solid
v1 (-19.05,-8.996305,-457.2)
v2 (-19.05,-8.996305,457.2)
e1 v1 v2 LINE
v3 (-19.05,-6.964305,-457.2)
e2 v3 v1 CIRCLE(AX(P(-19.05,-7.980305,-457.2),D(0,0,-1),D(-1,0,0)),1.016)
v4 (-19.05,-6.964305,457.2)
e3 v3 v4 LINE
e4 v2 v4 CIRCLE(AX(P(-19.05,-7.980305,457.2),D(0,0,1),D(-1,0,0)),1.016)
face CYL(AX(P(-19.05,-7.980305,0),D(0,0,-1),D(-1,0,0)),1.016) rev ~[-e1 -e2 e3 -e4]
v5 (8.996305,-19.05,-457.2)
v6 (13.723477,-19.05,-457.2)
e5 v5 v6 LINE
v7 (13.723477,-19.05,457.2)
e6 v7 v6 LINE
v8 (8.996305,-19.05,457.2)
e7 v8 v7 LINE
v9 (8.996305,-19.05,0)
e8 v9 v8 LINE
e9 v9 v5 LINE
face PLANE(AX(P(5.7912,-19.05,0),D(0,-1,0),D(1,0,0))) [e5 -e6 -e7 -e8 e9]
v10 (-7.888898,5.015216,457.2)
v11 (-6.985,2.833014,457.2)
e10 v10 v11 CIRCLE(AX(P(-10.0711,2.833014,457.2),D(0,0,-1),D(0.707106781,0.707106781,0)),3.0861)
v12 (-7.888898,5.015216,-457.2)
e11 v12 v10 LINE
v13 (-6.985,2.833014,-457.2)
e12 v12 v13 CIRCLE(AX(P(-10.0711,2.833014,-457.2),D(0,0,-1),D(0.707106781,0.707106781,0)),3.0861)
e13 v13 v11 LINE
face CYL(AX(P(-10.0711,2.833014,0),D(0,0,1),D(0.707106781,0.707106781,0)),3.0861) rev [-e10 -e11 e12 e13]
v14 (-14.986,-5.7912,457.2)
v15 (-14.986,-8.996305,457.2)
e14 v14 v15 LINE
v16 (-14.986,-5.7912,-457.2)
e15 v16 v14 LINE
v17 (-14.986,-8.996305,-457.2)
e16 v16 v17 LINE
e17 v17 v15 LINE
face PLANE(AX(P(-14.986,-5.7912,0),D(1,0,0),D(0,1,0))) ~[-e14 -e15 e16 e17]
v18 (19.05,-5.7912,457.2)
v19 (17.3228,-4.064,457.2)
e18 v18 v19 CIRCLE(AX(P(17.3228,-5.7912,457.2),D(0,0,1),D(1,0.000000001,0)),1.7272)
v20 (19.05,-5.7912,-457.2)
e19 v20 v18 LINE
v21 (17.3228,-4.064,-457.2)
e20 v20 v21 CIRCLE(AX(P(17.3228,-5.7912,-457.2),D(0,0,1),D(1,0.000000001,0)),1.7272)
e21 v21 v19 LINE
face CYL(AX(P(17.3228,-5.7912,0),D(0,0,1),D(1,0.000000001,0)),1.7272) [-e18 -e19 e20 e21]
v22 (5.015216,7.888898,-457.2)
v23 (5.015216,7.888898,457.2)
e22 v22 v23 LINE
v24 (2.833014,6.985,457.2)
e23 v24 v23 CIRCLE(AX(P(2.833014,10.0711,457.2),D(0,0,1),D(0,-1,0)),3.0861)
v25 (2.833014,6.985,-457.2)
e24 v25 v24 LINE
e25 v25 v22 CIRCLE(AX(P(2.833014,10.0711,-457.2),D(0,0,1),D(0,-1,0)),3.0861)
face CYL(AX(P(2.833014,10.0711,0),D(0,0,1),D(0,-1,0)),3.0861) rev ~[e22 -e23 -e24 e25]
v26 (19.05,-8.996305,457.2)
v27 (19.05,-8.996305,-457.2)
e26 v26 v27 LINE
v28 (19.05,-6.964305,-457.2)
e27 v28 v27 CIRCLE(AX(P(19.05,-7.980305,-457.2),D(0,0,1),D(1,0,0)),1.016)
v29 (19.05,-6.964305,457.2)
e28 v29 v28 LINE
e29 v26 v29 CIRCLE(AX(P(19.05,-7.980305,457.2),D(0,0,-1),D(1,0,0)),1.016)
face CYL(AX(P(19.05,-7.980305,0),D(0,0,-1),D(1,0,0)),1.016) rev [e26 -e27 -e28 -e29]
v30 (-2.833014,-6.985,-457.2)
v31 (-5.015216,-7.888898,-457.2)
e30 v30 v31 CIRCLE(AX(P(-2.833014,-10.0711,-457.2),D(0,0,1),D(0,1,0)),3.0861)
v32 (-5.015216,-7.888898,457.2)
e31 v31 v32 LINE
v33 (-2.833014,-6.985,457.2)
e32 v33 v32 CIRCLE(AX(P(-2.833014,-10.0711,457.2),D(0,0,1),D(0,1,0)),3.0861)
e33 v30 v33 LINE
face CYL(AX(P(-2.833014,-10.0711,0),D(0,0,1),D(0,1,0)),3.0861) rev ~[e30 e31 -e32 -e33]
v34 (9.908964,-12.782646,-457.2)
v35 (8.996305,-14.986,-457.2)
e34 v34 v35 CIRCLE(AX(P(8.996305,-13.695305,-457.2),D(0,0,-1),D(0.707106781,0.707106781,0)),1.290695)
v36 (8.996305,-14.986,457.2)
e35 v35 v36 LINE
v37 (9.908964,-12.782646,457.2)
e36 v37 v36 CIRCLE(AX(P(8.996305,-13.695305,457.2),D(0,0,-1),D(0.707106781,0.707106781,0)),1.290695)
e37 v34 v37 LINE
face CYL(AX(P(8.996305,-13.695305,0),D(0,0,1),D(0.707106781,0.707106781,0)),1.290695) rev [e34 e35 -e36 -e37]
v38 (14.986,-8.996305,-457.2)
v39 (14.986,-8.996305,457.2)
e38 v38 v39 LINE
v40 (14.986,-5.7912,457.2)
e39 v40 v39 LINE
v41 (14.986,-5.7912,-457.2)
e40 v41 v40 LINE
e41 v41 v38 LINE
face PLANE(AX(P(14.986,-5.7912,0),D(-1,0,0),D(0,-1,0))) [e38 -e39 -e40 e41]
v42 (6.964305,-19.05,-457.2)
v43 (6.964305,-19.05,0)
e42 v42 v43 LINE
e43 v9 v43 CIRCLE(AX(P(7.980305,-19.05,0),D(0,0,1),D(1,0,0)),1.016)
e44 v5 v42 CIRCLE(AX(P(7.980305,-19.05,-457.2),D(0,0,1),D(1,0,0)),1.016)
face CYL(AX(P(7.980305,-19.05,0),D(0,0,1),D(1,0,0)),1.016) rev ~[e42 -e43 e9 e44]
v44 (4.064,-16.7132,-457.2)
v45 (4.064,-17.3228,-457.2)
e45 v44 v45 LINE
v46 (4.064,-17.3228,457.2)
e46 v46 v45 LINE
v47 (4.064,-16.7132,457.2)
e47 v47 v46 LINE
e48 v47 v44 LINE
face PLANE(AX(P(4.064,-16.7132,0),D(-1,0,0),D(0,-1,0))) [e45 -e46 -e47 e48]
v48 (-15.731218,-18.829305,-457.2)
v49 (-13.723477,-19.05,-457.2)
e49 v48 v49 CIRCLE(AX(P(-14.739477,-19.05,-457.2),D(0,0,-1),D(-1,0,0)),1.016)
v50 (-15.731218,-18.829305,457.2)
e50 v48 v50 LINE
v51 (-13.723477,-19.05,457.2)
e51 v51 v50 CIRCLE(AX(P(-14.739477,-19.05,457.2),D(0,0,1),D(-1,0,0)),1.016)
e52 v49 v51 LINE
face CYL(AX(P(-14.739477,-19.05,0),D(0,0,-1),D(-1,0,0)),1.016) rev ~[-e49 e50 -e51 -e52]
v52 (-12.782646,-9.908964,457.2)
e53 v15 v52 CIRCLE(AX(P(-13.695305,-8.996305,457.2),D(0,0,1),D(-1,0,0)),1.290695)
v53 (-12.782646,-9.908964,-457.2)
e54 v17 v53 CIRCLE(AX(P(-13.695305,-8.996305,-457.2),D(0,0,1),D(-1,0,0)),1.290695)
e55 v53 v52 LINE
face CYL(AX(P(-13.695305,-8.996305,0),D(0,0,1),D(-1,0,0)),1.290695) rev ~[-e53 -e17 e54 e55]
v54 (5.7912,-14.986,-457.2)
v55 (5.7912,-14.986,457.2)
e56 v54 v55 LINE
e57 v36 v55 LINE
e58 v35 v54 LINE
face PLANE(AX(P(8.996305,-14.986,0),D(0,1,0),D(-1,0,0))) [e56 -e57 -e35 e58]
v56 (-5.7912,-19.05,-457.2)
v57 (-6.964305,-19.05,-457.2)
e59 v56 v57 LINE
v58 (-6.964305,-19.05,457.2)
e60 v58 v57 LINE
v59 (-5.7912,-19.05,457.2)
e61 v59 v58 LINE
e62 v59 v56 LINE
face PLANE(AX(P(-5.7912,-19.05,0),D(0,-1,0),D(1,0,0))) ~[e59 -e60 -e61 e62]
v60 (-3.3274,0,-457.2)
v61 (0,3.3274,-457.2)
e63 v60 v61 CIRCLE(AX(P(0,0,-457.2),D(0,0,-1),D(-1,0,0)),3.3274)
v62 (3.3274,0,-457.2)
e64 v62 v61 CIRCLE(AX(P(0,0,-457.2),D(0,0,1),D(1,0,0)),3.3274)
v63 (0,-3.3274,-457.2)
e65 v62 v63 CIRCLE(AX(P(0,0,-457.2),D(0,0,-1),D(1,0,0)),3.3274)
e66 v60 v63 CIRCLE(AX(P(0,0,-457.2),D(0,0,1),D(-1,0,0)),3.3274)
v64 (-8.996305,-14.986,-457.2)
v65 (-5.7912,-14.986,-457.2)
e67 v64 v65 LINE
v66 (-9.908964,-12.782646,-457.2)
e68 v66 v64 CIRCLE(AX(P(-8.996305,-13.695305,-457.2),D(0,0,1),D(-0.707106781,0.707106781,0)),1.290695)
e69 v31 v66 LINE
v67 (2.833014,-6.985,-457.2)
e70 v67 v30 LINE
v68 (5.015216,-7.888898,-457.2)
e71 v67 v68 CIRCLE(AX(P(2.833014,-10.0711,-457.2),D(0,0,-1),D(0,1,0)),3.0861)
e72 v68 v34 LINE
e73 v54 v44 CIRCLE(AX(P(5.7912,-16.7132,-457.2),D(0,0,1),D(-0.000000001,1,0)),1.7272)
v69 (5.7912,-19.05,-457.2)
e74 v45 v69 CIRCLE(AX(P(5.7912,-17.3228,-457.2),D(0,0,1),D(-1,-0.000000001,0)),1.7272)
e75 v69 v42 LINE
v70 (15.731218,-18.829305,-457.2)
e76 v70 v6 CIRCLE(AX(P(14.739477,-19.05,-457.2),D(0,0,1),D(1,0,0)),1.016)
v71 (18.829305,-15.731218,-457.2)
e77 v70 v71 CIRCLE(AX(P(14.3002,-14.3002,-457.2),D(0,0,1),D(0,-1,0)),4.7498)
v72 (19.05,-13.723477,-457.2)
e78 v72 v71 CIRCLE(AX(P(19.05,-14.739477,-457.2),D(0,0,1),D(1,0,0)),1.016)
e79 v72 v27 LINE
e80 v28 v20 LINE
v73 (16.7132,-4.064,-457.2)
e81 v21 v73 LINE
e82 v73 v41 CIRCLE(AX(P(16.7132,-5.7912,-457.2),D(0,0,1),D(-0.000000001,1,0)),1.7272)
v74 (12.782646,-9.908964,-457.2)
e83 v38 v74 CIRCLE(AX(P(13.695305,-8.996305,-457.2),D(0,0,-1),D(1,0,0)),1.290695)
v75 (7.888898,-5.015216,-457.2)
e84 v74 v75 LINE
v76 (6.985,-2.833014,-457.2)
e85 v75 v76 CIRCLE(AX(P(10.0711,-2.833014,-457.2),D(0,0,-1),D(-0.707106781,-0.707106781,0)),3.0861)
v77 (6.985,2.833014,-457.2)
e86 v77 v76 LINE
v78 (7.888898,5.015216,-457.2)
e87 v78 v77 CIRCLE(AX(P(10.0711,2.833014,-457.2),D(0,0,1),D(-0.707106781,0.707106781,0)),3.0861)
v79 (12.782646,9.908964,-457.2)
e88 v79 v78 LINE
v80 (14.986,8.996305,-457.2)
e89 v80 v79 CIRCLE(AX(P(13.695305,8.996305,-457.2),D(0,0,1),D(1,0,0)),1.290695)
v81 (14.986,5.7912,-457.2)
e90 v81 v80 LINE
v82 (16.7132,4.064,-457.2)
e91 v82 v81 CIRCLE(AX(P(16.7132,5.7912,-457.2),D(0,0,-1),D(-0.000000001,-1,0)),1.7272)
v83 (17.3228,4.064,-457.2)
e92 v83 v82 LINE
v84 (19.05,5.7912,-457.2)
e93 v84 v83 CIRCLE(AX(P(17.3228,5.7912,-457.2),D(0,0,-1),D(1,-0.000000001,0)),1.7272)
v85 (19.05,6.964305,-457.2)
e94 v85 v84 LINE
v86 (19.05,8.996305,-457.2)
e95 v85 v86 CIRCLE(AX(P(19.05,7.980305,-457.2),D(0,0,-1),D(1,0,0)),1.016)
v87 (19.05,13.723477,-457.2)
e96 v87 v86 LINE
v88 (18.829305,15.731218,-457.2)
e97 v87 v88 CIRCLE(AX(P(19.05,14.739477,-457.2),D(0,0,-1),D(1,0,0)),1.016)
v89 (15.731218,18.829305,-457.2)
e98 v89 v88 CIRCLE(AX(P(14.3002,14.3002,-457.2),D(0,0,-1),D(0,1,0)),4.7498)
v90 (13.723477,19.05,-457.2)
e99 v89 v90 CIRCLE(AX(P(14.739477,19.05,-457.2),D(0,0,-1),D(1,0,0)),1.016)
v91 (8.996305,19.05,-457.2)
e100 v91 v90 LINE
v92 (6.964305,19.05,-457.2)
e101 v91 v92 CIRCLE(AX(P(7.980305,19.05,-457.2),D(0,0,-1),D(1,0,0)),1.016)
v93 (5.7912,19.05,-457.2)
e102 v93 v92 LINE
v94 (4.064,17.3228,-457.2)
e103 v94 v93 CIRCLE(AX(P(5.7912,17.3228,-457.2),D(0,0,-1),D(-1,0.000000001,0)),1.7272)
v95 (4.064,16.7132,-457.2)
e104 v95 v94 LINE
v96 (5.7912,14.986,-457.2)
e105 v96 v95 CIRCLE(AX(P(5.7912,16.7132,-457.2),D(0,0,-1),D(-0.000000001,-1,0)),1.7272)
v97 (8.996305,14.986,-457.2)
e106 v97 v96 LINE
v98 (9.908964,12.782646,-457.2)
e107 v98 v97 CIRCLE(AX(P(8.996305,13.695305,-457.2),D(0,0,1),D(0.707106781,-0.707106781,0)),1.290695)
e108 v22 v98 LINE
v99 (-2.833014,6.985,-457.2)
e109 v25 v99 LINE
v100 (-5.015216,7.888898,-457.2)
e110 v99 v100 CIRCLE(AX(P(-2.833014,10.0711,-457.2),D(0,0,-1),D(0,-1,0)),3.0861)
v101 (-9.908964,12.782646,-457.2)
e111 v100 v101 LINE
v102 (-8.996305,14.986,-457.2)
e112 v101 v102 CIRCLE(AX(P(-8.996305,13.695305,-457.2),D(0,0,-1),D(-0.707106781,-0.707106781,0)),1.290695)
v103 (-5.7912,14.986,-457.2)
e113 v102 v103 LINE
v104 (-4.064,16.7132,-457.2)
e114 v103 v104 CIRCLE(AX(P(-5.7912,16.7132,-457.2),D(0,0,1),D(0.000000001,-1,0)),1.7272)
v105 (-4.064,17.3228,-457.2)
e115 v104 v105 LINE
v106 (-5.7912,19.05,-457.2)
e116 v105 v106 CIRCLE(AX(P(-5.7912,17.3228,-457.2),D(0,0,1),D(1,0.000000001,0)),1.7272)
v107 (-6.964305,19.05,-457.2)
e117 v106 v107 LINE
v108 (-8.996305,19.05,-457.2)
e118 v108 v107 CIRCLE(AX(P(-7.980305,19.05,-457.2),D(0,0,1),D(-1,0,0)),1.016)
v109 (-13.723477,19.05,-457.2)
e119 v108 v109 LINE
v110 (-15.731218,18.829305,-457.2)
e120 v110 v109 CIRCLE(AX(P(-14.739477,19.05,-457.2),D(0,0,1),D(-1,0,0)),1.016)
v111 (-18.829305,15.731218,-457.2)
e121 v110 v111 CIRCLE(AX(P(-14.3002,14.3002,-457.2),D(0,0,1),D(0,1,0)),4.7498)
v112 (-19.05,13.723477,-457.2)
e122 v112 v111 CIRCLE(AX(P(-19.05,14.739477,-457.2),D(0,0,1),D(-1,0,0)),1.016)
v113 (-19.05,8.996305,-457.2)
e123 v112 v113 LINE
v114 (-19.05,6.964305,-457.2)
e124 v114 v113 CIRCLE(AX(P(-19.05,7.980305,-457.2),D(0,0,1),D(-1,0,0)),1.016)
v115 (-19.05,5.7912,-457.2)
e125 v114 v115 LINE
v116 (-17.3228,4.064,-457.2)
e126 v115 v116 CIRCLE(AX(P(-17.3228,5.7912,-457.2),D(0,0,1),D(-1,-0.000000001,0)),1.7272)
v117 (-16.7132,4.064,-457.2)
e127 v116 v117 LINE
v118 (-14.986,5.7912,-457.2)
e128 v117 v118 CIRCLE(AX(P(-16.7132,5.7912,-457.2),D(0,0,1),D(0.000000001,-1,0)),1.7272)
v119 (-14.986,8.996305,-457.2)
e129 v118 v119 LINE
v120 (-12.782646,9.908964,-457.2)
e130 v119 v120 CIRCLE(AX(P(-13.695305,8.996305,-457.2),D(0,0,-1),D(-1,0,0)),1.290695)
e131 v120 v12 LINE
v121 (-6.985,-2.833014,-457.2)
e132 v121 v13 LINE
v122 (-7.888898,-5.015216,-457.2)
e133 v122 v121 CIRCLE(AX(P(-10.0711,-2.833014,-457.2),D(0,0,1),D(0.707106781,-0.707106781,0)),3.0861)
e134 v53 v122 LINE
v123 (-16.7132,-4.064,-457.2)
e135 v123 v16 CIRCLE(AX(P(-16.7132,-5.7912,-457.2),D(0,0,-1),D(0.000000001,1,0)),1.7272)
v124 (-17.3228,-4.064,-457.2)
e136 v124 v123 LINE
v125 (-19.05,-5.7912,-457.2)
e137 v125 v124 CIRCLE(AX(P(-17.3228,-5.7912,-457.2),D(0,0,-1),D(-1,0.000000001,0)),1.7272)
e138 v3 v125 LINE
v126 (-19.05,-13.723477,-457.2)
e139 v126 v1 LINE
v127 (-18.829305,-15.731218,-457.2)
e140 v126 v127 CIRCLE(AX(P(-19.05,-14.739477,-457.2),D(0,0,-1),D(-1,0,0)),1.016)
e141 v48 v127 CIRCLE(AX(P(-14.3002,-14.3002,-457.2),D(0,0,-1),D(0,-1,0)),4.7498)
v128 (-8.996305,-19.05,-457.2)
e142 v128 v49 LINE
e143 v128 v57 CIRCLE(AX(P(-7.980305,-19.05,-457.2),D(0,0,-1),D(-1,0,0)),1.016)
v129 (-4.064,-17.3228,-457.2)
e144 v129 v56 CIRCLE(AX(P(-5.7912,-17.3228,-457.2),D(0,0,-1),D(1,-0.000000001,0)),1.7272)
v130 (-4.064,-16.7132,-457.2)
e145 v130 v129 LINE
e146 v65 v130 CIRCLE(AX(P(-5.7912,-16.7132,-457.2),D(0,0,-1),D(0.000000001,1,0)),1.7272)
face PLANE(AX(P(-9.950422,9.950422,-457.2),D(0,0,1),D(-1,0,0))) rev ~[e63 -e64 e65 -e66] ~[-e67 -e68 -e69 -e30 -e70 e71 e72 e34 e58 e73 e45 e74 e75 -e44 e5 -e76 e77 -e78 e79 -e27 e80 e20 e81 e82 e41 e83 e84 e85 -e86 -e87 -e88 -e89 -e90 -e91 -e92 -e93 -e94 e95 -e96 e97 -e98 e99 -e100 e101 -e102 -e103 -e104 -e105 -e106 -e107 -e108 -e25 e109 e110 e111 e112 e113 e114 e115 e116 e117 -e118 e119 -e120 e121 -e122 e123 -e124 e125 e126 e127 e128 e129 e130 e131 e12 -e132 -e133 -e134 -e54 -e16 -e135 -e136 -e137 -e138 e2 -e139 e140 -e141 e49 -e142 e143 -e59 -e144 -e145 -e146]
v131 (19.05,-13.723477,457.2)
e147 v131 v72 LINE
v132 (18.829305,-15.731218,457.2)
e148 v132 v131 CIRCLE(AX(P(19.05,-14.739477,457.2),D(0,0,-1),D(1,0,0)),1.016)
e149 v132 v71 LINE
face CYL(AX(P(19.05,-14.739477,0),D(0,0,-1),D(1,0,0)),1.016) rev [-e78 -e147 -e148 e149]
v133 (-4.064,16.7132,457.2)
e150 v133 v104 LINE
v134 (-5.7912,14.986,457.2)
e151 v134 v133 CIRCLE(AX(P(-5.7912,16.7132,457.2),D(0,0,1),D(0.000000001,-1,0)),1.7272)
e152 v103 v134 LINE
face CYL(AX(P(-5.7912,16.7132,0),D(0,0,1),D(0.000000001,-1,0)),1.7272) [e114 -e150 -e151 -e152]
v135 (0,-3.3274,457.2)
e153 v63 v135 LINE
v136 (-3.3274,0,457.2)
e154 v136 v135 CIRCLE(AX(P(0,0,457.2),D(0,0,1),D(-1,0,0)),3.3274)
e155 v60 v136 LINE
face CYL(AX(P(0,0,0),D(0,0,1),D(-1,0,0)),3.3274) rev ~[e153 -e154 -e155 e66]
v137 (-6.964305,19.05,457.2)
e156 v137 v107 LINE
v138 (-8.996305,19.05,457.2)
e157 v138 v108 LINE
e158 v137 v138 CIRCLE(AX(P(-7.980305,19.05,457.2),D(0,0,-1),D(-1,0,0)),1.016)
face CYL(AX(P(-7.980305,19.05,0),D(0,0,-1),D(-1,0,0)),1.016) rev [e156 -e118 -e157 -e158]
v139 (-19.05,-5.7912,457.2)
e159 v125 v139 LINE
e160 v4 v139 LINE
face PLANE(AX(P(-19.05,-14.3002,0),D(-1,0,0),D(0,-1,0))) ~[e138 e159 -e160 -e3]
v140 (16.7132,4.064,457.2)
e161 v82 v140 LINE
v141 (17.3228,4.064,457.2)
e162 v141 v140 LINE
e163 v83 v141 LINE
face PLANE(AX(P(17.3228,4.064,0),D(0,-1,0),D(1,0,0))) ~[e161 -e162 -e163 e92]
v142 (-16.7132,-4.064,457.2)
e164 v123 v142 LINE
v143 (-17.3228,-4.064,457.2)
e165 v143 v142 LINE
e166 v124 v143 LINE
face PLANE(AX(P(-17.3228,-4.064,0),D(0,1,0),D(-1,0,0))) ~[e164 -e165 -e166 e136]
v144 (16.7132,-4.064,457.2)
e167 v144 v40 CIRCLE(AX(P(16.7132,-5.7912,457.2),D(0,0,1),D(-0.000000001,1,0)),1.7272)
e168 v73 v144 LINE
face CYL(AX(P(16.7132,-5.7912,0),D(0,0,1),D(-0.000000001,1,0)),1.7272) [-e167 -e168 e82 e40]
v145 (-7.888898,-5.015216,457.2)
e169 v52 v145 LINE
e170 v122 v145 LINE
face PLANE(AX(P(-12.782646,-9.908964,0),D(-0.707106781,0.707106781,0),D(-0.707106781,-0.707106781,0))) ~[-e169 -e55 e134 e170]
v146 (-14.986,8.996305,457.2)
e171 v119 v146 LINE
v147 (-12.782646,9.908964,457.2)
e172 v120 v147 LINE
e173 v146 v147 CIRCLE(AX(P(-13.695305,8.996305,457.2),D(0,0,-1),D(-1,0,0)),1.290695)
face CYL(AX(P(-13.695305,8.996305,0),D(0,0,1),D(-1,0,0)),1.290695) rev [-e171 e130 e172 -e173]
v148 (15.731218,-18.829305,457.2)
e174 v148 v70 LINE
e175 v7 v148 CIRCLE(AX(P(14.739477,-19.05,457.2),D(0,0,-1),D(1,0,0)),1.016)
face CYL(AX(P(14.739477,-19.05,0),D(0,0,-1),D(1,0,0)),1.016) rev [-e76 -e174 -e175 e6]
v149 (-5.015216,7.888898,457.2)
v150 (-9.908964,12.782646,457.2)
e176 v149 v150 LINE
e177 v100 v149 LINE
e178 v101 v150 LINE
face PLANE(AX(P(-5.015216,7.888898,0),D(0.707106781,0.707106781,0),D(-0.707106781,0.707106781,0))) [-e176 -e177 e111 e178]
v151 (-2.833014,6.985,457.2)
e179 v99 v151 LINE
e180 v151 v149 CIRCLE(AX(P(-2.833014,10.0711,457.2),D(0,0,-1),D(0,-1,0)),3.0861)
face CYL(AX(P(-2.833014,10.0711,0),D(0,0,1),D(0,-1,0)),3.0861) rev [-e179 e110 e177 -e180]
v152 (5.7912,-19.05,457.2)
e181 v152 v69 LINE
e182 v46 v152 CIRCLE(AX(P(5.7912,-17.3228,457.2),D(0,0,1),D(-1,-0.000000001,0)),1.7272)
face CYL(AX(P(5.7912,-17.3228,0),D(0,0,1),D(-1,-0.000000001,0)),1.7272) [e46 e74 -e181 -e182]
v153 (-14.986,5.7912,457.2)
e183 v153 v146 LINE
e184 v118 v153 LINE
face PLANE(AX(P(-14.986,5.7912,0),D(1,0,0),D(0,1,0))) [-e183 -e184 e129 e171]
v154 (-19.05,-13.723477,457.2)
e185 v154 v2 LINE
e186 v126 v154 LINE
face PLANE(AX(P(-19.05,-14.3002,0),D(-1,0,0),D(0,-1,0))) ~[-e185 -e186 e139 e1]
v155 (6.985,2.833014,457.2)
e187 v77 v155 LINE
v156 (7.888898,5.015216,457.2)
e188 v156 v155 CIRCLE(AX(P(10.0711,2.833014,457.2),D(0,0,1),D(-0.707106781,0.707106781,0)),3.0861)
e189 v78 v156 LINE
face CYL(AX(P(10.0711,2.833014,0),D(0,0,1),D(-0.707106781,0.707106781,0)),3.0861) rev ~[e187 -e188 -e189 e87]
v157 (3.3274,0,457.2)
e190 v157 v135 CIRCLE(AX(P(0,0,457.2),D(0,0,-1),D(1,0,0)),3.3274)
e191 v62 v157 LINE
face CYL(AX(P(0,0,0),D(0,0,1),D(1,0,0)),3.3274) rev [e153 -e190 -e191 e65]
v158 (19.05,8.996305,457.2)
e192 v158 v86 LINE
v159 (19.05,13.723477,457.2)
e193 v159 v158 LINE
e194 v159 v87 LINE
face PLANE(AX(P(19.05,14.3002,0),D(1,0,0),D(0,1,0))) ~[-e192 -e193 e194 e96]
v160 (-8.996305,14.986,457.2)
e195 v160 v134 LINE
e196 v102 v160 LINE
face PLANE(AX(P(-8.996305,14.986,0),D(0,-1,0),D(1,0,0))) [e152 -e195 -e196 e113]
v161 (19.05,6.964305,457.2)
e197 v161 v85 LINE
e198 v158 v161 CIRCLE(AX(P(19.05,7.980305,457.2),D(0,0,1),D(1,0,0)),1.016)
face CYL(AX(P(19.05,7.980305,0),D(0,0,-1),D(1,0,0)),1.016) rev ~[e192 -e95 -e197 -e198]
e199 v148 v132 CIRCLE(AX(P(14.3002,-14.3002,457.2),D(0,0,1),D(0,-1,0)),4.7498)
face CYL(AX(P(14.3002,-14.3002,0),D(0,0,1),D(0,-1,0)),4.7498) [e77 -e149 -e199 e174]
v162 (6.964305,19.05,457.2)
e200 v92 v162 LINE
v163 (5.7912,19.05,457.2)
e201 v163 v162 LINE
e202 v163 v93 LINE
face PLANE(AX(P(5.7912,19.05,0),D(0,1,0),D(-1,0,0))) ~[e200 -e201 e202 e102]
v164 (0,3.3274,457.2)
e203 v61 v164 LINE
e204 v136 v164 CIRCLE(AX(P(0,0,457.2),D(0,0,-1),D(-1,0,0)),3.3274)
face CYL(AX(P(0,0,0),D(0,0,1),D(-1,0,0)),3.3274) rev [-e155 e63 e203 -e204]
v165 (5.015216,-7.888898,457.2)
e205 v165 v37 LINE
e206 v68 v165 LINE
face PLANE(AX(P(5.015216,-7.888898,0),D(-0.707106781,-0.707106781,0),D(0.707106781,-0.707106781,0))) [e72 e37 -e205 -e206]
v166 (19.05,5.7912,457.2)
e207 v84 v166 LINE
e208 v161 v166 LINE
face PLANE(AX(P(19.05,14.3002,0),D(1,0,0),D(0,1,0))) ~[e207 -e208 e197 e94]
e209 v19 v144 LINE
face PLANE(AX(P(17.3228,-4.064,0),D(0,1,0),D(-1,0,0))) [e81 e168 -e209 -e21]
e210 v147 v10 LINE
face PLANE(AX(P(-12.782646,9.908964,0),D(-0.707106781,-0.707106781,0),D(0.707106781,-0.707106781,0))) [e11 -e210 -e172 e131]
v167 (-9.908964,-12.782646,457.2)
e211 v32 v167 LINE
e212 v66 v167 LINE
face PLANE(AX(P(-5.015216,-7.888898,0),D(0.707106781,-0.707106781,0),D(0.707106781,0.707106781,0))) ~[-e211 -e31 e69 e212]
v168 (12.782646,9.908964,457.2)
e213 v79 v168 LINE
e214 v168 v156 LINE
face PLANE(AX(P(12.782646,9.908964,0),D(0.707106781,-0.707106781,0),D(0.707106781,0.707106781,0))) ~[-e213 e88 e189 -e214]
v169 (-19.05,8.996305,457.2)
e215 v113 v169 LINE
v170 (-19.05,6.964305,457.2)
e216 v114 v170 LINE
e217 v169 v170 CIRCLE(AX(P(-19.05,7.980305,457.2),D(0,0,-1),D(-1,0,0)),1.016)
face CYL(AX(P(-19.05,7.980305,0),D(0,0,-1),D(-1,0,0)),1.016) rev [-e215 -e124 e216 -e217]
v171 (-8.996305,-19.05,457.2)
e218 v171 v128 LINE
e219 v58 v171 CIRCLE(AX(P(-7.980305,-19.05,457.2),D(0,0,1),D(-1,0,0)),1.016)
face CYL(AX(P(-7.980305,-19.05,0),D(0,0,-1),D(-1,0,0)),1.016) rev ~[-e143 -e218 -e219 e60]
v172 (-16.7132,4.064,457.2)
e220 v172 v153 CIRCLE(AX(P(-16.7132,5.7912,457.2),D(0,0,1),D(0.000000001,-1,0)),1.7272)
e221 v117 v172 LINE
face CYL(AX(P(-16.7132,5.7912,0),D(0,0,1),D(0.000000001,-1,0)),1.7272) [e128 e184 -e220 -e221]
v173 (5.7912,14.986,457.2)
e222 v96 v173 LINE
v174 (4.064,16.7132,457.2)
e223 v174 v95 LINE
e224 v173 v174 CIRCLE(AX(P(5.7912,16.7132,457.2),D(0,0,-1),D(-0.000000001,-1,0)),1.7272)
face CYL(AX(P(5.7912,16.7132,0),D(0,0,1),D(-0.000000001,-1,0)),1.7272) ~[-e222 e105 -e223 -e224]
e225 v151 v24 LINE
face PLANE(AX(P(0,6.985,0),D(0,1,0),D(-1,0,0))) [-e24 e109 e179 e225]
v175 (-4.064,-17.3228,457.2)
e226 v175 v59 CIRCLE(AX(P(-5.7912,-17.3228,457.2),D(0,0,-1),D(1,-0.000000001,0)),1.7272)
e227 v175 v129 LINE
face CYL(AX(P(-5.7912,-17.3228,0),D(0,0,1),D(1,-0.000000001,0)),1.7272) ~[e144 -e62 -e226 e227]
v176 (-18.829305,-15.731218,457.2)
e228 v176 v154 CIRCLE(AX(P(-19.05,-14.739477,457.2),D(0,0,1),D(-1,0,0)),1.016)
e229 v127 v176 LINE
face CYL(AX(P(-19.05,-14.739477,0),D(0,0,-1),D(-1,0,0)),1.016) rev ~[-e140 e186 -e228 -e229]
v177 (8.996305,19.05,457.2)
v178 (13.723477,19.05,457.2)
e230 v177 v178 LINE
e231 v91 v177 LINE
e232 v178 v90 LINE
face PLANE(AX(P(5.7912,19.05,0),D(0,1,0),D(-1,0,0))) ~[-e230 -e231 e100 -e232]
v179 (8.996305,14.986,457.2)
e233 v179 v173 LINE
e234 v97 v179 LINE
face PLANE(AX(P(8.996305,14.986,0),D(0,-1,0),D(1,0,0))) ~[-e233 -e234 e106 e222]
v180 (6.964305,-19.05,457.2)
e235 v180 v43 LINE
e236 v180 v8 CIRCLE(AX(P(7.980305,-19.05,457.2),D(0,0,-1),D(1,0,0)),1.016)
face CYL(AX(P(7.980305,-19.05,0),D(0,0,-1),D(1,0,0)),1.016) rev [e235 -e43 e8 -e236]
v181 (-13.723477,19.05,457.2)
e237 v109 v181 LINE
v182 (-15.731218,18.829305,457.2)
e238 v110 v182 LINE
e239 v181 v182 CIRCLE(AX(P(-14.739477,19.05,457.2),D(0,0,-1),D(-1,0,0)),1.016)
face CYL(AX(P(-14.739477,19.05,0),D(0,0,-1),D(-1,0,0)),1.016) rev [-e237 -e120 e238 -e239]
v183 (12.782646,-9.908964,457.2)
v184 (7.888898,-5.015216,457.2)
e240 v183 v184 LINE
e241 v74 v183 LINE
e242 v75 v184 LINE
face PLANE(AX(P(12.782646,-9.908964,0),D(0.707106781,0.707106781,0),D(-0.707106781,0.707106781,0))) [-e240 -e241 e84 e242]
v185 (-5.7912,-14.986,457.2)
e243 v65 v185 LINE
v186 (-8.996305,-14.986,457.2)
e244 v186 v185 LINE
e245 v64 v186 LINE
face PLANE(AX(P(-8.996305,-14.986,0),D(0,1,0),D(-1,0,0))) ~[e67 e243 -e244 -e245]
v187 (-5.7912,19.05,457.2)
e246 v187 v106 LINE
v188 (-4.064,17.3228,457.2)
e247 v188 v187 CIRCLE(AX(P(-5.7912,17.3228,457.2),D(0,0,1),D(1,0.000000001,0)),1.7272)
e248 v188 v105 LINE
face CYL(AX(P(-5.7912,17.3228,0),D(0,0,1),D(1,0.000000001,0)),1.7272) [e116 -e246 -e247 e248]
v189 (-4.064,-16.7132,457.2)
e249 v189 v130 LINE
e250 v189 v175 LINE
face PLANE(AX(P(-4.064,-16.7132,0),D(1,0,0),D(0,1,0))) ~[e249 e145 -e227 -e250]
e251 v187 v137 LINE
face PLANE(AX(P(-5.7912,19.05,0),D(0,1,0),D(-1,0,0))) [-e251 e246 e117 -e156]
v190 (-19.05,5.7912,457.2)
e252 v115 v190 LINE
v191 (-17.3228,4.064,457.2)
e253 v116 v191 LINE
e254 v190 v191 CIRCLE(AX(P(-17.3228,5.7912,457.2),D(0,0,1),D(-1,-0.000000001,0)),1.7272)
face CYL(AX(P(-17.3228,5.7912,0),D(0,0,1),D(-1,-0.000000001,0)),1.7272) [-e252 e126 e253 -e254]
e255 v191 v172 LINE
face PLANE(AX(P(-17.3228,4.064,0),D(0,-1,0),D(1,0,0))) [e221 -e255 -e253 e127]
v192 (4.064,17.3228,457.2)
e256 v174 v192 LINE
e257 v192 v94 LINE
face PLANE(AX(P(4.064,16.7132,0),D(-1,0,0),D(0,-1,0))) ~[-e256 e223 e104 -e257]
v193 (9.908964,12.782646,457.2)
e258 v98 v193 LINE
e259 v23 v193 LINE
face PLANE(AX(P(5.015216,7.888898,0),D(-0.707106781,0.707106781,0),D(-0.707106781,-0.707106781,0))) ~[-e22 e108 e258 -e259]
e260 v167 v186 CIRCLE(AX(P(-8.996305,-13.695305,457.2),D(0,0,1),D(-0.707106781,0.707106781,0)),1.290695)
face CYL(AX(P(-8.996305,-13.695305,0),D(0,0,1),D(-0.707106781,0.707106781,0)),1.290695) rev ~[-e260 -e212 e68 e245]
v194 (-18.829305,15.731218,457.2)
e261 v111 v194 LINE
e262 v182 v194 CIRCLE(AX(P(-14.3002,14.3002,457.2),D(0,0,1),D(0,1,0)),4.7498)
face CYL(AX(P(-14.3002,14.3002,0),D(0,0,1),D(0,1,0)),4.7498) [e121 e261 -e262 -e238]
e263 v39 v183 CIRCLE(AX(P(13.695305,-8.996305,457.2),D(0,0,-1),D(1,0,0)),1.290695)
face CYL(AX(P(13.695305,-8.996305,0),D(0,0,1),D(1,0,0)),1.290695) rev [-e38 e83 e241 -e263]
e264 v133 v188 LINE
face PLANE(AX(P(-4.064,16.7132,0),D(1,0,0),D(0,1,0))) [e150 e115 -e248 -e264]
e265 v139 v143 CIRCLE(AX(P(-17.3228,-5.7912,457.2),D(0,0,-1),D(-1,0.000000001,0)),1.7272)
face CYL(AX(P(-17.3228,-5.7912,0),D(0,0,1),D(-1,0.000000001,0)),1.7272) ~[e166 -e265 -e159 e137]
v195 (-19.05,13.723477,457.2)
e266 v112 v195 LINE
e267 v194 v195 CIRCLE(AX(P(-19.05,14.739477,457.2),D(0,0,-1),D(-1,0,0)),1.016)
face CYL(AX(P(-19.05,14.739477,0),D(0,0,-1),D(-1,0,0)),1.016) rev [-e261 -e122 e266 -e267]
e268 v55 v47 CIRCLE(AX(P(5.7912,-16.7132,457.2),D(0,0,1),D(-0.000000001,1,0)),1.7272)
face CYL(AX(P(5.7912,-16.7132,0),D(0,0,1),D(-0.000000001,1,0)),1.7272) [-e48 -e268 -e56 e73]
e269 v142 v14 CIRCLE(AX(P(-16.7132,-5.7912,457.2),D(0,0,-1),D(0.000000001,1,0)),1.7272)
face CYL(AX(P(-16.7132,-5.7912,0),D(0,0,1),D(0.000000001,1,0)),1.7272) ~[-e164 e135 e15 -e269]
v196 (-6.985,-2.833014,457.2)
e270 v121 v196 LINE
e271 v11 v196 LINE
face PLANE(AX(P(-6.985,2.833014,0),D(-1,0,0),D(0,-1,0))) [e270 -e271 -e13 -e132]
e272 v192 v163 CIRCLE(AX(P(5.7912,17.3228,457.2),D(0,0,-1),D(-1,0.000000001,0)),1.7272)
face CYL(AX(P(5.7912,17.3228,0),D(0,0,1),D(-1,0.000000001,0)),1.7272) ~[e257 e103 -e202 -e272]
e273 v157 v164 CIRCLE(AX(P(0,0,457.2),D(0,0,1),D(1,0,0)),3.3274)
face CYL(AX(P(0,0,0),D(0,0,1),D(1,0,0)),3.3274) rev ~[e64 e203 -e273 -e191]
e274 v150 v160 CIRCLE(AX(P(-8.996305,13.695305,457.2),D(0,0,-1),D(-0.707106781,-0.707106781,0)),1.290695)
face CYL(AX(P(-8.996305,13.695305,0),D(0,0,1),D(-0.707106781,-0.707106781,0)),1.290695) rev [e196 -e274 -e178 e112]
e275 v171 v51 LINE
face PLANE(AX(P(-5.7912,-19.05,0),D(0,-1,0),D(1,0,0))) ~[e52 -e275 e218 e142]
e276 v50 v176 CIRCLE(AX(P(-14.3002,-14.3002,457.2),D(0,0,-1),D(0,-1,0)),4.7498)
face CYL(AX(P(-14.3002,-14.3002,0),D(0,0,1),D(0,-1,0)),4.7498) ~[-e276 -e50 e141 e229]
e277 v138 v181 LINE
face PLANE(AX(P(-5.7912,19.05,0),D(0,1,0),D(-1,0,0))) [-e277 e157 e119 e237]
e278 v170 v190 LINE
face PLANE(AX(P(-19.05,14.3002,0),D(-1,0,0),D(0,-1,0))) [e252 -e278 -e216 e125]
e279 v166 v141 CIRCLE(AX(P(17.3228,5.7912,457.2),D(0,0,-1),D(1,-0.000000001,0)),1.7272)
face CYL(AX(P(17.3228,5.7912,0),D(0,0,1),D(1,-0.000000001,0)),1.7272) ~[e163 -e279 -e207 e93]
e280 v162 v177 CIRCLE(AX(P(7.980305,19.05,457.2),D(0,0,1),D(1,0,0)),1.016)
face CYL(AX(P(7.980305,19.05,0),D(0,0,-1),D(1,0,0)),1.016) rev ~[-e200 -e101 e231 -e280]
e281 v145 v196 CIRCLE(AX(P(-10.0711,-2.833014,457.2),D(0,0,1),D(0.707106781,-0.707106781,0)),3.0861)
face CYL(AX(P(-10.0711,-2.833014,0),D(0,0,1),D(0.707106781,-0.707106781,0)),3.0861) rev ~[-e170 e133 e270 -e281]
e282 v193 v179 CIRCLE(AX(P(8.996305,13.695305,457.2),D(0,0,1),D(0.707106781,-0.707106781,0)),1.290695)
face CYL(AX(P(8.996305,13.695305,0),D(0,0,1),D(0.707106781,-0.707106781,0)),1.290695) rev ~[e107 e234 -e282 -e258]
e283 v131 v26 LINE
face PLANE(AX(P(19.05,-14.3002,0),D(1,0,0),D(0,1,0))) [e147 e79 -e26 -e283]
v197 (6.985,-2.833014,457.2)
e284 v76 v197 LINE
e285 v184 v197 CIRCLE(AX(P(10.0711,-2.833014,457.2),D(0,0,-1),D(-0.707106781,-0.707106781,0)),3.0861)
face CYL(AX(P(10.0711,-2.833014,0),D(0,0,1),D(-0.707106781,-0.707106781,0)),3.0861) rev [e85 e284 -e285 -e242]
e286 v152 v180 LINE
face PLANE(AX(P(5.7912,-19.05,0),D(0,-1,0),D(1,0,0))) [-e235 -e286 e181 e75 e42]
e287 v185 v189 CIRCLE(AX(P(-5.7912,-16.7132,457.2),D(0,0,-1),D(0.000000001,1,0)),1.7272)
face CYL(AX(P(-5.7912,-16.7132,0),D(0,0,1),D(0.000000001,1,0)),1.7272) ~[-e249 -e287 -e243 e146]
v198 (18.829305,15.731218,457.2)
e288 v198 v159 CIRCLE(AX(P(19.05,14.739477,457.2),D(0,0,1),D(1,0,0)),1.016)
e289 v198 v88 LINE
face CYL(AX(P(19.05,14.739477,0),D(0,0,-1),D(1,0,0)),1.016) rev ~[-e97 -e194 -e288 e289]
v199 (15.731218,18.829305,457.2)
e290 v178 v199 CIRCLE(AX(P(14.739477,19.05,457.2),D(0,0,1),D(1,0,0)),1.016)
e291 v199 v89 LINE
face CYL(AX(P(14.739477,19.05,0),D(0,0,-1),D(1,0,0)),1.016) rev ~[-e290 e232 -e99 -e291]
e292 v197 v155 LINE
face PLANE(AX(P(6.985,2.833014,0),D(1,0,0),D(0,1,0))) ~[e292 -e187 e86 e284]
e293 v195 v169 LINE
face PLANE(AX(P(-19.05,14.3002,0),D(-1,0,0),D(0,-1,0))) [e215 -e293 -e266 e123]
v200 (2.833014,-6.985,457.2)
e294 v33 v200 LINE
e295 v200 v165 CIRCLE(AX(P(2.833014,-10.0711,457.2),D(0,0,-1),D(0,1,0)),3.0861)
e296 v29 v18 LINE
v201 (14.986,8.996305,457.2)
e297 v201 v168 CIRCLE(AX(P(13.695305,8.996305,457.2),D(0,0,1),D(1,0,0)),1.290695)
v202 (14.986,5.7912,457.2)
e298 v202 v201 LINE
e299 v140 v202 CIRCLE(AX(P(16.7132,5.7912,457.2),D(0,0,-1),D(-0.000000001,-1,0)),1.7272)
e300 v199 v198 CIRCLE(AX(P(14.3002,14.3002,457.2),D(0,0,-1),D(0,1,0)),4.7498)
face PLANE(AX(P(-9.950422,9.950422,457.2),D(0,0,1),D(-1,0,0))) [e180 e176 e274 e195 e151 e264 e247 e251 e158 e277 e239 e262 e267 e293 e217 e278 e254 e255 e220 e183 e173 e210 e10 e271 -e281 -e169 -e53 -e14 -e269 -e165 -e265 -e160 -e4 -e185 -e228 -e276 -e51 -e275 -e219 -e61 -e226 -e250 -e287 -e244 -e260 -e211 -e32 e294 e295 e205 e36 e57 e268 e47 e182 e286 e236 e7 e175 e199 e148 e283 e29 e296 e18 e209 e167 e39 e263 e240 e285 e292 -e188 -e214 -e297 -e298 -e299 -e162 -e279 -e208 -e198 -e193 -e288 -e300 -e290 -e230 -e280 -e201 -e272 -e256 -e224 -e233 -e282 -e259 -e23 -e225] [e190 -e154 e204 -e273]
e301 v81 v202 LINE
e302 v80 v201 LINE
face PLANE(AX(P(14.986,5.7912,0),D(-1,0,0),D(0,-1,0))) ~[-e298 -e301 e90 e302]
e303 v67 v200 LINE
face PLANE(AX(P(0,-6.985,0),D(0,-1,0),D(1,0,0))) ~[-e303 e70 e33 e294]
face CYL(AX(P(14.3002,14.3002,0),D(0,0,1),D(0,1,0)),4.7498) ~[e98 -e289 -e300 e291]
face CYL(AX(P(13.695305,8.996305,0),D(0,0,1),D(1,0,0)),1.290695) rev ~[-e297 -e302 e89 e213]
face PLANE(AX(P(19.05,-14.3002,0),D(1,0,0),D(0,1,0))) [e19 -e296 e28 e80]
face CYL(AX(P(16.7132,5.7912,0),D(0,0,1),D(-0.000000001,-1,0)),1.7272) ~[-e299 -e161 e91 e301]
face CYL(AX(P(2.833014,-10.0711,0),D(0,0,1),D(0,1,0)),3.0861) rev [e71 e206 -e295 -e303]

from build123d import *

# Parameters (mm, degrees)
BOSS_EXTRUDE1_DEPTH     = 457.2
SKETCH5_R               = 1.016
CUT_EXTRUDE1_DEPTH      = 458.2
CUT_EXTRUDE1_DEPTH_BACK = 458.2


with BuildPart() as part:
    # Sketch4 → Boss-Extrude1 (new body, symmetric)
    with BuildSketch(Plane.XY):
        with BuildLine():
            Line((5.7912, -19.05), (14.3002, -19.05))
            ThreePointArc((14.3002, -19.05), (17.658815789, -17.658815789), (19.05, -14.3002))
            Line((19.05, -14.3002), (19.05, -5.7912))
            ThreePointArc((19.05, -5.7912), (18.544114832, -4.569885168), (17.3228, -4.064))
            Line((17.3228, -4.064), (16.7132, -4.064))
            ThreePointArc((16.7132, -4.064), (15.491885168, -4.569885168), (14.986, -5.7912))
            Line((14.986, -5.7912), (14.986, -8.996305235))
            ThreePointArc((14.986, -8.996305235), (14.189232738, -10.188751711), (12.782646215, -9.908964256))
            Line((12.782646215, -9.908964256), (7.888897763, -5.015215804))
            ThreePointArc((7.888897763, -5.015215804), (7.219915375, -4.014012907), (6.985, -2.833013566))
            Line((6.985, -2.833013566), (6.985, 0))
            Line((6.985, 0), (3.3274, 0))
            ThreePointArc((3.3274, 0), (2.352827104, -2.352827104), (0, -3.3274))
            Line((0, -3.3274), (0, -6.985))
            Line((0, -6.985), (2.833013566, -6.985))
            ThreePointArc((2.833013566, -6.985), (4.014012907, -7.219915375), (5.015215804, -7.888897763))
            Line((5.015215804, -7.888897763), (9.908964256, -12.782646215))
            ThreePointArc((9.908964256, -12.782646215), (10.188751711, -14.189232738), (8.996305235, -14.986))
            Line((8.996305235, -14.986), (5.7912, -14.986))
            ThreePointArc((5.7912, -14.986), (4.569885168, -15.491885168), (4.064, -16.7132))
            Line((4.064, -16.7132), (4.064, -17.3228))
            ThreePointArc((4.064, -17.3228), (4.569885168, -18.544114832), (5.7912, -19.05))
        make_face()
    extrude(amount=BOSS_EXTRUDE1_DEPTH, both=True)

    # Sketch5 → Cut-Extrude1 (cut, two sides)
    with BuildSketch(Plane.XY) as cut_extrude1_sk:
        with Locations((14.739477062, -19.05)):
            Circle(SKETCH5_R)
        with Locations((7.980305235, -19.05)):
            Circle(SKETCH5_R)
        with Locations((19.05, -14.739477062)):
            Circle(SKETCH5_R)
        with Locations((19.05, -7.980305235)):
            Circle(SKETCH5_R)
    extrude(amount=CUT_EXTRUDE1_DEPTH, mode=Mode.SUBTRACT)
    extrude(cut_extrude1_sk.sketch, amount=-CUT_EXTRUDE1_DEPTH_BACK, mode=Mode.SUBTRACT)

    # Mirror1: part across plane


with BuildPart() as part_1:
    add(part.part)
    add(part.part.mirror(Plane(origin=(0, 0, 0), x_dir=(0, 0, 1), z_dir=(1, 0, 0))))

    # Mirror2: part across plane


with BuildPart() as part_2:
    add(part_1.part)
    add(part_1.part.mirror(Plane.ZX))


solid = part_2.part
